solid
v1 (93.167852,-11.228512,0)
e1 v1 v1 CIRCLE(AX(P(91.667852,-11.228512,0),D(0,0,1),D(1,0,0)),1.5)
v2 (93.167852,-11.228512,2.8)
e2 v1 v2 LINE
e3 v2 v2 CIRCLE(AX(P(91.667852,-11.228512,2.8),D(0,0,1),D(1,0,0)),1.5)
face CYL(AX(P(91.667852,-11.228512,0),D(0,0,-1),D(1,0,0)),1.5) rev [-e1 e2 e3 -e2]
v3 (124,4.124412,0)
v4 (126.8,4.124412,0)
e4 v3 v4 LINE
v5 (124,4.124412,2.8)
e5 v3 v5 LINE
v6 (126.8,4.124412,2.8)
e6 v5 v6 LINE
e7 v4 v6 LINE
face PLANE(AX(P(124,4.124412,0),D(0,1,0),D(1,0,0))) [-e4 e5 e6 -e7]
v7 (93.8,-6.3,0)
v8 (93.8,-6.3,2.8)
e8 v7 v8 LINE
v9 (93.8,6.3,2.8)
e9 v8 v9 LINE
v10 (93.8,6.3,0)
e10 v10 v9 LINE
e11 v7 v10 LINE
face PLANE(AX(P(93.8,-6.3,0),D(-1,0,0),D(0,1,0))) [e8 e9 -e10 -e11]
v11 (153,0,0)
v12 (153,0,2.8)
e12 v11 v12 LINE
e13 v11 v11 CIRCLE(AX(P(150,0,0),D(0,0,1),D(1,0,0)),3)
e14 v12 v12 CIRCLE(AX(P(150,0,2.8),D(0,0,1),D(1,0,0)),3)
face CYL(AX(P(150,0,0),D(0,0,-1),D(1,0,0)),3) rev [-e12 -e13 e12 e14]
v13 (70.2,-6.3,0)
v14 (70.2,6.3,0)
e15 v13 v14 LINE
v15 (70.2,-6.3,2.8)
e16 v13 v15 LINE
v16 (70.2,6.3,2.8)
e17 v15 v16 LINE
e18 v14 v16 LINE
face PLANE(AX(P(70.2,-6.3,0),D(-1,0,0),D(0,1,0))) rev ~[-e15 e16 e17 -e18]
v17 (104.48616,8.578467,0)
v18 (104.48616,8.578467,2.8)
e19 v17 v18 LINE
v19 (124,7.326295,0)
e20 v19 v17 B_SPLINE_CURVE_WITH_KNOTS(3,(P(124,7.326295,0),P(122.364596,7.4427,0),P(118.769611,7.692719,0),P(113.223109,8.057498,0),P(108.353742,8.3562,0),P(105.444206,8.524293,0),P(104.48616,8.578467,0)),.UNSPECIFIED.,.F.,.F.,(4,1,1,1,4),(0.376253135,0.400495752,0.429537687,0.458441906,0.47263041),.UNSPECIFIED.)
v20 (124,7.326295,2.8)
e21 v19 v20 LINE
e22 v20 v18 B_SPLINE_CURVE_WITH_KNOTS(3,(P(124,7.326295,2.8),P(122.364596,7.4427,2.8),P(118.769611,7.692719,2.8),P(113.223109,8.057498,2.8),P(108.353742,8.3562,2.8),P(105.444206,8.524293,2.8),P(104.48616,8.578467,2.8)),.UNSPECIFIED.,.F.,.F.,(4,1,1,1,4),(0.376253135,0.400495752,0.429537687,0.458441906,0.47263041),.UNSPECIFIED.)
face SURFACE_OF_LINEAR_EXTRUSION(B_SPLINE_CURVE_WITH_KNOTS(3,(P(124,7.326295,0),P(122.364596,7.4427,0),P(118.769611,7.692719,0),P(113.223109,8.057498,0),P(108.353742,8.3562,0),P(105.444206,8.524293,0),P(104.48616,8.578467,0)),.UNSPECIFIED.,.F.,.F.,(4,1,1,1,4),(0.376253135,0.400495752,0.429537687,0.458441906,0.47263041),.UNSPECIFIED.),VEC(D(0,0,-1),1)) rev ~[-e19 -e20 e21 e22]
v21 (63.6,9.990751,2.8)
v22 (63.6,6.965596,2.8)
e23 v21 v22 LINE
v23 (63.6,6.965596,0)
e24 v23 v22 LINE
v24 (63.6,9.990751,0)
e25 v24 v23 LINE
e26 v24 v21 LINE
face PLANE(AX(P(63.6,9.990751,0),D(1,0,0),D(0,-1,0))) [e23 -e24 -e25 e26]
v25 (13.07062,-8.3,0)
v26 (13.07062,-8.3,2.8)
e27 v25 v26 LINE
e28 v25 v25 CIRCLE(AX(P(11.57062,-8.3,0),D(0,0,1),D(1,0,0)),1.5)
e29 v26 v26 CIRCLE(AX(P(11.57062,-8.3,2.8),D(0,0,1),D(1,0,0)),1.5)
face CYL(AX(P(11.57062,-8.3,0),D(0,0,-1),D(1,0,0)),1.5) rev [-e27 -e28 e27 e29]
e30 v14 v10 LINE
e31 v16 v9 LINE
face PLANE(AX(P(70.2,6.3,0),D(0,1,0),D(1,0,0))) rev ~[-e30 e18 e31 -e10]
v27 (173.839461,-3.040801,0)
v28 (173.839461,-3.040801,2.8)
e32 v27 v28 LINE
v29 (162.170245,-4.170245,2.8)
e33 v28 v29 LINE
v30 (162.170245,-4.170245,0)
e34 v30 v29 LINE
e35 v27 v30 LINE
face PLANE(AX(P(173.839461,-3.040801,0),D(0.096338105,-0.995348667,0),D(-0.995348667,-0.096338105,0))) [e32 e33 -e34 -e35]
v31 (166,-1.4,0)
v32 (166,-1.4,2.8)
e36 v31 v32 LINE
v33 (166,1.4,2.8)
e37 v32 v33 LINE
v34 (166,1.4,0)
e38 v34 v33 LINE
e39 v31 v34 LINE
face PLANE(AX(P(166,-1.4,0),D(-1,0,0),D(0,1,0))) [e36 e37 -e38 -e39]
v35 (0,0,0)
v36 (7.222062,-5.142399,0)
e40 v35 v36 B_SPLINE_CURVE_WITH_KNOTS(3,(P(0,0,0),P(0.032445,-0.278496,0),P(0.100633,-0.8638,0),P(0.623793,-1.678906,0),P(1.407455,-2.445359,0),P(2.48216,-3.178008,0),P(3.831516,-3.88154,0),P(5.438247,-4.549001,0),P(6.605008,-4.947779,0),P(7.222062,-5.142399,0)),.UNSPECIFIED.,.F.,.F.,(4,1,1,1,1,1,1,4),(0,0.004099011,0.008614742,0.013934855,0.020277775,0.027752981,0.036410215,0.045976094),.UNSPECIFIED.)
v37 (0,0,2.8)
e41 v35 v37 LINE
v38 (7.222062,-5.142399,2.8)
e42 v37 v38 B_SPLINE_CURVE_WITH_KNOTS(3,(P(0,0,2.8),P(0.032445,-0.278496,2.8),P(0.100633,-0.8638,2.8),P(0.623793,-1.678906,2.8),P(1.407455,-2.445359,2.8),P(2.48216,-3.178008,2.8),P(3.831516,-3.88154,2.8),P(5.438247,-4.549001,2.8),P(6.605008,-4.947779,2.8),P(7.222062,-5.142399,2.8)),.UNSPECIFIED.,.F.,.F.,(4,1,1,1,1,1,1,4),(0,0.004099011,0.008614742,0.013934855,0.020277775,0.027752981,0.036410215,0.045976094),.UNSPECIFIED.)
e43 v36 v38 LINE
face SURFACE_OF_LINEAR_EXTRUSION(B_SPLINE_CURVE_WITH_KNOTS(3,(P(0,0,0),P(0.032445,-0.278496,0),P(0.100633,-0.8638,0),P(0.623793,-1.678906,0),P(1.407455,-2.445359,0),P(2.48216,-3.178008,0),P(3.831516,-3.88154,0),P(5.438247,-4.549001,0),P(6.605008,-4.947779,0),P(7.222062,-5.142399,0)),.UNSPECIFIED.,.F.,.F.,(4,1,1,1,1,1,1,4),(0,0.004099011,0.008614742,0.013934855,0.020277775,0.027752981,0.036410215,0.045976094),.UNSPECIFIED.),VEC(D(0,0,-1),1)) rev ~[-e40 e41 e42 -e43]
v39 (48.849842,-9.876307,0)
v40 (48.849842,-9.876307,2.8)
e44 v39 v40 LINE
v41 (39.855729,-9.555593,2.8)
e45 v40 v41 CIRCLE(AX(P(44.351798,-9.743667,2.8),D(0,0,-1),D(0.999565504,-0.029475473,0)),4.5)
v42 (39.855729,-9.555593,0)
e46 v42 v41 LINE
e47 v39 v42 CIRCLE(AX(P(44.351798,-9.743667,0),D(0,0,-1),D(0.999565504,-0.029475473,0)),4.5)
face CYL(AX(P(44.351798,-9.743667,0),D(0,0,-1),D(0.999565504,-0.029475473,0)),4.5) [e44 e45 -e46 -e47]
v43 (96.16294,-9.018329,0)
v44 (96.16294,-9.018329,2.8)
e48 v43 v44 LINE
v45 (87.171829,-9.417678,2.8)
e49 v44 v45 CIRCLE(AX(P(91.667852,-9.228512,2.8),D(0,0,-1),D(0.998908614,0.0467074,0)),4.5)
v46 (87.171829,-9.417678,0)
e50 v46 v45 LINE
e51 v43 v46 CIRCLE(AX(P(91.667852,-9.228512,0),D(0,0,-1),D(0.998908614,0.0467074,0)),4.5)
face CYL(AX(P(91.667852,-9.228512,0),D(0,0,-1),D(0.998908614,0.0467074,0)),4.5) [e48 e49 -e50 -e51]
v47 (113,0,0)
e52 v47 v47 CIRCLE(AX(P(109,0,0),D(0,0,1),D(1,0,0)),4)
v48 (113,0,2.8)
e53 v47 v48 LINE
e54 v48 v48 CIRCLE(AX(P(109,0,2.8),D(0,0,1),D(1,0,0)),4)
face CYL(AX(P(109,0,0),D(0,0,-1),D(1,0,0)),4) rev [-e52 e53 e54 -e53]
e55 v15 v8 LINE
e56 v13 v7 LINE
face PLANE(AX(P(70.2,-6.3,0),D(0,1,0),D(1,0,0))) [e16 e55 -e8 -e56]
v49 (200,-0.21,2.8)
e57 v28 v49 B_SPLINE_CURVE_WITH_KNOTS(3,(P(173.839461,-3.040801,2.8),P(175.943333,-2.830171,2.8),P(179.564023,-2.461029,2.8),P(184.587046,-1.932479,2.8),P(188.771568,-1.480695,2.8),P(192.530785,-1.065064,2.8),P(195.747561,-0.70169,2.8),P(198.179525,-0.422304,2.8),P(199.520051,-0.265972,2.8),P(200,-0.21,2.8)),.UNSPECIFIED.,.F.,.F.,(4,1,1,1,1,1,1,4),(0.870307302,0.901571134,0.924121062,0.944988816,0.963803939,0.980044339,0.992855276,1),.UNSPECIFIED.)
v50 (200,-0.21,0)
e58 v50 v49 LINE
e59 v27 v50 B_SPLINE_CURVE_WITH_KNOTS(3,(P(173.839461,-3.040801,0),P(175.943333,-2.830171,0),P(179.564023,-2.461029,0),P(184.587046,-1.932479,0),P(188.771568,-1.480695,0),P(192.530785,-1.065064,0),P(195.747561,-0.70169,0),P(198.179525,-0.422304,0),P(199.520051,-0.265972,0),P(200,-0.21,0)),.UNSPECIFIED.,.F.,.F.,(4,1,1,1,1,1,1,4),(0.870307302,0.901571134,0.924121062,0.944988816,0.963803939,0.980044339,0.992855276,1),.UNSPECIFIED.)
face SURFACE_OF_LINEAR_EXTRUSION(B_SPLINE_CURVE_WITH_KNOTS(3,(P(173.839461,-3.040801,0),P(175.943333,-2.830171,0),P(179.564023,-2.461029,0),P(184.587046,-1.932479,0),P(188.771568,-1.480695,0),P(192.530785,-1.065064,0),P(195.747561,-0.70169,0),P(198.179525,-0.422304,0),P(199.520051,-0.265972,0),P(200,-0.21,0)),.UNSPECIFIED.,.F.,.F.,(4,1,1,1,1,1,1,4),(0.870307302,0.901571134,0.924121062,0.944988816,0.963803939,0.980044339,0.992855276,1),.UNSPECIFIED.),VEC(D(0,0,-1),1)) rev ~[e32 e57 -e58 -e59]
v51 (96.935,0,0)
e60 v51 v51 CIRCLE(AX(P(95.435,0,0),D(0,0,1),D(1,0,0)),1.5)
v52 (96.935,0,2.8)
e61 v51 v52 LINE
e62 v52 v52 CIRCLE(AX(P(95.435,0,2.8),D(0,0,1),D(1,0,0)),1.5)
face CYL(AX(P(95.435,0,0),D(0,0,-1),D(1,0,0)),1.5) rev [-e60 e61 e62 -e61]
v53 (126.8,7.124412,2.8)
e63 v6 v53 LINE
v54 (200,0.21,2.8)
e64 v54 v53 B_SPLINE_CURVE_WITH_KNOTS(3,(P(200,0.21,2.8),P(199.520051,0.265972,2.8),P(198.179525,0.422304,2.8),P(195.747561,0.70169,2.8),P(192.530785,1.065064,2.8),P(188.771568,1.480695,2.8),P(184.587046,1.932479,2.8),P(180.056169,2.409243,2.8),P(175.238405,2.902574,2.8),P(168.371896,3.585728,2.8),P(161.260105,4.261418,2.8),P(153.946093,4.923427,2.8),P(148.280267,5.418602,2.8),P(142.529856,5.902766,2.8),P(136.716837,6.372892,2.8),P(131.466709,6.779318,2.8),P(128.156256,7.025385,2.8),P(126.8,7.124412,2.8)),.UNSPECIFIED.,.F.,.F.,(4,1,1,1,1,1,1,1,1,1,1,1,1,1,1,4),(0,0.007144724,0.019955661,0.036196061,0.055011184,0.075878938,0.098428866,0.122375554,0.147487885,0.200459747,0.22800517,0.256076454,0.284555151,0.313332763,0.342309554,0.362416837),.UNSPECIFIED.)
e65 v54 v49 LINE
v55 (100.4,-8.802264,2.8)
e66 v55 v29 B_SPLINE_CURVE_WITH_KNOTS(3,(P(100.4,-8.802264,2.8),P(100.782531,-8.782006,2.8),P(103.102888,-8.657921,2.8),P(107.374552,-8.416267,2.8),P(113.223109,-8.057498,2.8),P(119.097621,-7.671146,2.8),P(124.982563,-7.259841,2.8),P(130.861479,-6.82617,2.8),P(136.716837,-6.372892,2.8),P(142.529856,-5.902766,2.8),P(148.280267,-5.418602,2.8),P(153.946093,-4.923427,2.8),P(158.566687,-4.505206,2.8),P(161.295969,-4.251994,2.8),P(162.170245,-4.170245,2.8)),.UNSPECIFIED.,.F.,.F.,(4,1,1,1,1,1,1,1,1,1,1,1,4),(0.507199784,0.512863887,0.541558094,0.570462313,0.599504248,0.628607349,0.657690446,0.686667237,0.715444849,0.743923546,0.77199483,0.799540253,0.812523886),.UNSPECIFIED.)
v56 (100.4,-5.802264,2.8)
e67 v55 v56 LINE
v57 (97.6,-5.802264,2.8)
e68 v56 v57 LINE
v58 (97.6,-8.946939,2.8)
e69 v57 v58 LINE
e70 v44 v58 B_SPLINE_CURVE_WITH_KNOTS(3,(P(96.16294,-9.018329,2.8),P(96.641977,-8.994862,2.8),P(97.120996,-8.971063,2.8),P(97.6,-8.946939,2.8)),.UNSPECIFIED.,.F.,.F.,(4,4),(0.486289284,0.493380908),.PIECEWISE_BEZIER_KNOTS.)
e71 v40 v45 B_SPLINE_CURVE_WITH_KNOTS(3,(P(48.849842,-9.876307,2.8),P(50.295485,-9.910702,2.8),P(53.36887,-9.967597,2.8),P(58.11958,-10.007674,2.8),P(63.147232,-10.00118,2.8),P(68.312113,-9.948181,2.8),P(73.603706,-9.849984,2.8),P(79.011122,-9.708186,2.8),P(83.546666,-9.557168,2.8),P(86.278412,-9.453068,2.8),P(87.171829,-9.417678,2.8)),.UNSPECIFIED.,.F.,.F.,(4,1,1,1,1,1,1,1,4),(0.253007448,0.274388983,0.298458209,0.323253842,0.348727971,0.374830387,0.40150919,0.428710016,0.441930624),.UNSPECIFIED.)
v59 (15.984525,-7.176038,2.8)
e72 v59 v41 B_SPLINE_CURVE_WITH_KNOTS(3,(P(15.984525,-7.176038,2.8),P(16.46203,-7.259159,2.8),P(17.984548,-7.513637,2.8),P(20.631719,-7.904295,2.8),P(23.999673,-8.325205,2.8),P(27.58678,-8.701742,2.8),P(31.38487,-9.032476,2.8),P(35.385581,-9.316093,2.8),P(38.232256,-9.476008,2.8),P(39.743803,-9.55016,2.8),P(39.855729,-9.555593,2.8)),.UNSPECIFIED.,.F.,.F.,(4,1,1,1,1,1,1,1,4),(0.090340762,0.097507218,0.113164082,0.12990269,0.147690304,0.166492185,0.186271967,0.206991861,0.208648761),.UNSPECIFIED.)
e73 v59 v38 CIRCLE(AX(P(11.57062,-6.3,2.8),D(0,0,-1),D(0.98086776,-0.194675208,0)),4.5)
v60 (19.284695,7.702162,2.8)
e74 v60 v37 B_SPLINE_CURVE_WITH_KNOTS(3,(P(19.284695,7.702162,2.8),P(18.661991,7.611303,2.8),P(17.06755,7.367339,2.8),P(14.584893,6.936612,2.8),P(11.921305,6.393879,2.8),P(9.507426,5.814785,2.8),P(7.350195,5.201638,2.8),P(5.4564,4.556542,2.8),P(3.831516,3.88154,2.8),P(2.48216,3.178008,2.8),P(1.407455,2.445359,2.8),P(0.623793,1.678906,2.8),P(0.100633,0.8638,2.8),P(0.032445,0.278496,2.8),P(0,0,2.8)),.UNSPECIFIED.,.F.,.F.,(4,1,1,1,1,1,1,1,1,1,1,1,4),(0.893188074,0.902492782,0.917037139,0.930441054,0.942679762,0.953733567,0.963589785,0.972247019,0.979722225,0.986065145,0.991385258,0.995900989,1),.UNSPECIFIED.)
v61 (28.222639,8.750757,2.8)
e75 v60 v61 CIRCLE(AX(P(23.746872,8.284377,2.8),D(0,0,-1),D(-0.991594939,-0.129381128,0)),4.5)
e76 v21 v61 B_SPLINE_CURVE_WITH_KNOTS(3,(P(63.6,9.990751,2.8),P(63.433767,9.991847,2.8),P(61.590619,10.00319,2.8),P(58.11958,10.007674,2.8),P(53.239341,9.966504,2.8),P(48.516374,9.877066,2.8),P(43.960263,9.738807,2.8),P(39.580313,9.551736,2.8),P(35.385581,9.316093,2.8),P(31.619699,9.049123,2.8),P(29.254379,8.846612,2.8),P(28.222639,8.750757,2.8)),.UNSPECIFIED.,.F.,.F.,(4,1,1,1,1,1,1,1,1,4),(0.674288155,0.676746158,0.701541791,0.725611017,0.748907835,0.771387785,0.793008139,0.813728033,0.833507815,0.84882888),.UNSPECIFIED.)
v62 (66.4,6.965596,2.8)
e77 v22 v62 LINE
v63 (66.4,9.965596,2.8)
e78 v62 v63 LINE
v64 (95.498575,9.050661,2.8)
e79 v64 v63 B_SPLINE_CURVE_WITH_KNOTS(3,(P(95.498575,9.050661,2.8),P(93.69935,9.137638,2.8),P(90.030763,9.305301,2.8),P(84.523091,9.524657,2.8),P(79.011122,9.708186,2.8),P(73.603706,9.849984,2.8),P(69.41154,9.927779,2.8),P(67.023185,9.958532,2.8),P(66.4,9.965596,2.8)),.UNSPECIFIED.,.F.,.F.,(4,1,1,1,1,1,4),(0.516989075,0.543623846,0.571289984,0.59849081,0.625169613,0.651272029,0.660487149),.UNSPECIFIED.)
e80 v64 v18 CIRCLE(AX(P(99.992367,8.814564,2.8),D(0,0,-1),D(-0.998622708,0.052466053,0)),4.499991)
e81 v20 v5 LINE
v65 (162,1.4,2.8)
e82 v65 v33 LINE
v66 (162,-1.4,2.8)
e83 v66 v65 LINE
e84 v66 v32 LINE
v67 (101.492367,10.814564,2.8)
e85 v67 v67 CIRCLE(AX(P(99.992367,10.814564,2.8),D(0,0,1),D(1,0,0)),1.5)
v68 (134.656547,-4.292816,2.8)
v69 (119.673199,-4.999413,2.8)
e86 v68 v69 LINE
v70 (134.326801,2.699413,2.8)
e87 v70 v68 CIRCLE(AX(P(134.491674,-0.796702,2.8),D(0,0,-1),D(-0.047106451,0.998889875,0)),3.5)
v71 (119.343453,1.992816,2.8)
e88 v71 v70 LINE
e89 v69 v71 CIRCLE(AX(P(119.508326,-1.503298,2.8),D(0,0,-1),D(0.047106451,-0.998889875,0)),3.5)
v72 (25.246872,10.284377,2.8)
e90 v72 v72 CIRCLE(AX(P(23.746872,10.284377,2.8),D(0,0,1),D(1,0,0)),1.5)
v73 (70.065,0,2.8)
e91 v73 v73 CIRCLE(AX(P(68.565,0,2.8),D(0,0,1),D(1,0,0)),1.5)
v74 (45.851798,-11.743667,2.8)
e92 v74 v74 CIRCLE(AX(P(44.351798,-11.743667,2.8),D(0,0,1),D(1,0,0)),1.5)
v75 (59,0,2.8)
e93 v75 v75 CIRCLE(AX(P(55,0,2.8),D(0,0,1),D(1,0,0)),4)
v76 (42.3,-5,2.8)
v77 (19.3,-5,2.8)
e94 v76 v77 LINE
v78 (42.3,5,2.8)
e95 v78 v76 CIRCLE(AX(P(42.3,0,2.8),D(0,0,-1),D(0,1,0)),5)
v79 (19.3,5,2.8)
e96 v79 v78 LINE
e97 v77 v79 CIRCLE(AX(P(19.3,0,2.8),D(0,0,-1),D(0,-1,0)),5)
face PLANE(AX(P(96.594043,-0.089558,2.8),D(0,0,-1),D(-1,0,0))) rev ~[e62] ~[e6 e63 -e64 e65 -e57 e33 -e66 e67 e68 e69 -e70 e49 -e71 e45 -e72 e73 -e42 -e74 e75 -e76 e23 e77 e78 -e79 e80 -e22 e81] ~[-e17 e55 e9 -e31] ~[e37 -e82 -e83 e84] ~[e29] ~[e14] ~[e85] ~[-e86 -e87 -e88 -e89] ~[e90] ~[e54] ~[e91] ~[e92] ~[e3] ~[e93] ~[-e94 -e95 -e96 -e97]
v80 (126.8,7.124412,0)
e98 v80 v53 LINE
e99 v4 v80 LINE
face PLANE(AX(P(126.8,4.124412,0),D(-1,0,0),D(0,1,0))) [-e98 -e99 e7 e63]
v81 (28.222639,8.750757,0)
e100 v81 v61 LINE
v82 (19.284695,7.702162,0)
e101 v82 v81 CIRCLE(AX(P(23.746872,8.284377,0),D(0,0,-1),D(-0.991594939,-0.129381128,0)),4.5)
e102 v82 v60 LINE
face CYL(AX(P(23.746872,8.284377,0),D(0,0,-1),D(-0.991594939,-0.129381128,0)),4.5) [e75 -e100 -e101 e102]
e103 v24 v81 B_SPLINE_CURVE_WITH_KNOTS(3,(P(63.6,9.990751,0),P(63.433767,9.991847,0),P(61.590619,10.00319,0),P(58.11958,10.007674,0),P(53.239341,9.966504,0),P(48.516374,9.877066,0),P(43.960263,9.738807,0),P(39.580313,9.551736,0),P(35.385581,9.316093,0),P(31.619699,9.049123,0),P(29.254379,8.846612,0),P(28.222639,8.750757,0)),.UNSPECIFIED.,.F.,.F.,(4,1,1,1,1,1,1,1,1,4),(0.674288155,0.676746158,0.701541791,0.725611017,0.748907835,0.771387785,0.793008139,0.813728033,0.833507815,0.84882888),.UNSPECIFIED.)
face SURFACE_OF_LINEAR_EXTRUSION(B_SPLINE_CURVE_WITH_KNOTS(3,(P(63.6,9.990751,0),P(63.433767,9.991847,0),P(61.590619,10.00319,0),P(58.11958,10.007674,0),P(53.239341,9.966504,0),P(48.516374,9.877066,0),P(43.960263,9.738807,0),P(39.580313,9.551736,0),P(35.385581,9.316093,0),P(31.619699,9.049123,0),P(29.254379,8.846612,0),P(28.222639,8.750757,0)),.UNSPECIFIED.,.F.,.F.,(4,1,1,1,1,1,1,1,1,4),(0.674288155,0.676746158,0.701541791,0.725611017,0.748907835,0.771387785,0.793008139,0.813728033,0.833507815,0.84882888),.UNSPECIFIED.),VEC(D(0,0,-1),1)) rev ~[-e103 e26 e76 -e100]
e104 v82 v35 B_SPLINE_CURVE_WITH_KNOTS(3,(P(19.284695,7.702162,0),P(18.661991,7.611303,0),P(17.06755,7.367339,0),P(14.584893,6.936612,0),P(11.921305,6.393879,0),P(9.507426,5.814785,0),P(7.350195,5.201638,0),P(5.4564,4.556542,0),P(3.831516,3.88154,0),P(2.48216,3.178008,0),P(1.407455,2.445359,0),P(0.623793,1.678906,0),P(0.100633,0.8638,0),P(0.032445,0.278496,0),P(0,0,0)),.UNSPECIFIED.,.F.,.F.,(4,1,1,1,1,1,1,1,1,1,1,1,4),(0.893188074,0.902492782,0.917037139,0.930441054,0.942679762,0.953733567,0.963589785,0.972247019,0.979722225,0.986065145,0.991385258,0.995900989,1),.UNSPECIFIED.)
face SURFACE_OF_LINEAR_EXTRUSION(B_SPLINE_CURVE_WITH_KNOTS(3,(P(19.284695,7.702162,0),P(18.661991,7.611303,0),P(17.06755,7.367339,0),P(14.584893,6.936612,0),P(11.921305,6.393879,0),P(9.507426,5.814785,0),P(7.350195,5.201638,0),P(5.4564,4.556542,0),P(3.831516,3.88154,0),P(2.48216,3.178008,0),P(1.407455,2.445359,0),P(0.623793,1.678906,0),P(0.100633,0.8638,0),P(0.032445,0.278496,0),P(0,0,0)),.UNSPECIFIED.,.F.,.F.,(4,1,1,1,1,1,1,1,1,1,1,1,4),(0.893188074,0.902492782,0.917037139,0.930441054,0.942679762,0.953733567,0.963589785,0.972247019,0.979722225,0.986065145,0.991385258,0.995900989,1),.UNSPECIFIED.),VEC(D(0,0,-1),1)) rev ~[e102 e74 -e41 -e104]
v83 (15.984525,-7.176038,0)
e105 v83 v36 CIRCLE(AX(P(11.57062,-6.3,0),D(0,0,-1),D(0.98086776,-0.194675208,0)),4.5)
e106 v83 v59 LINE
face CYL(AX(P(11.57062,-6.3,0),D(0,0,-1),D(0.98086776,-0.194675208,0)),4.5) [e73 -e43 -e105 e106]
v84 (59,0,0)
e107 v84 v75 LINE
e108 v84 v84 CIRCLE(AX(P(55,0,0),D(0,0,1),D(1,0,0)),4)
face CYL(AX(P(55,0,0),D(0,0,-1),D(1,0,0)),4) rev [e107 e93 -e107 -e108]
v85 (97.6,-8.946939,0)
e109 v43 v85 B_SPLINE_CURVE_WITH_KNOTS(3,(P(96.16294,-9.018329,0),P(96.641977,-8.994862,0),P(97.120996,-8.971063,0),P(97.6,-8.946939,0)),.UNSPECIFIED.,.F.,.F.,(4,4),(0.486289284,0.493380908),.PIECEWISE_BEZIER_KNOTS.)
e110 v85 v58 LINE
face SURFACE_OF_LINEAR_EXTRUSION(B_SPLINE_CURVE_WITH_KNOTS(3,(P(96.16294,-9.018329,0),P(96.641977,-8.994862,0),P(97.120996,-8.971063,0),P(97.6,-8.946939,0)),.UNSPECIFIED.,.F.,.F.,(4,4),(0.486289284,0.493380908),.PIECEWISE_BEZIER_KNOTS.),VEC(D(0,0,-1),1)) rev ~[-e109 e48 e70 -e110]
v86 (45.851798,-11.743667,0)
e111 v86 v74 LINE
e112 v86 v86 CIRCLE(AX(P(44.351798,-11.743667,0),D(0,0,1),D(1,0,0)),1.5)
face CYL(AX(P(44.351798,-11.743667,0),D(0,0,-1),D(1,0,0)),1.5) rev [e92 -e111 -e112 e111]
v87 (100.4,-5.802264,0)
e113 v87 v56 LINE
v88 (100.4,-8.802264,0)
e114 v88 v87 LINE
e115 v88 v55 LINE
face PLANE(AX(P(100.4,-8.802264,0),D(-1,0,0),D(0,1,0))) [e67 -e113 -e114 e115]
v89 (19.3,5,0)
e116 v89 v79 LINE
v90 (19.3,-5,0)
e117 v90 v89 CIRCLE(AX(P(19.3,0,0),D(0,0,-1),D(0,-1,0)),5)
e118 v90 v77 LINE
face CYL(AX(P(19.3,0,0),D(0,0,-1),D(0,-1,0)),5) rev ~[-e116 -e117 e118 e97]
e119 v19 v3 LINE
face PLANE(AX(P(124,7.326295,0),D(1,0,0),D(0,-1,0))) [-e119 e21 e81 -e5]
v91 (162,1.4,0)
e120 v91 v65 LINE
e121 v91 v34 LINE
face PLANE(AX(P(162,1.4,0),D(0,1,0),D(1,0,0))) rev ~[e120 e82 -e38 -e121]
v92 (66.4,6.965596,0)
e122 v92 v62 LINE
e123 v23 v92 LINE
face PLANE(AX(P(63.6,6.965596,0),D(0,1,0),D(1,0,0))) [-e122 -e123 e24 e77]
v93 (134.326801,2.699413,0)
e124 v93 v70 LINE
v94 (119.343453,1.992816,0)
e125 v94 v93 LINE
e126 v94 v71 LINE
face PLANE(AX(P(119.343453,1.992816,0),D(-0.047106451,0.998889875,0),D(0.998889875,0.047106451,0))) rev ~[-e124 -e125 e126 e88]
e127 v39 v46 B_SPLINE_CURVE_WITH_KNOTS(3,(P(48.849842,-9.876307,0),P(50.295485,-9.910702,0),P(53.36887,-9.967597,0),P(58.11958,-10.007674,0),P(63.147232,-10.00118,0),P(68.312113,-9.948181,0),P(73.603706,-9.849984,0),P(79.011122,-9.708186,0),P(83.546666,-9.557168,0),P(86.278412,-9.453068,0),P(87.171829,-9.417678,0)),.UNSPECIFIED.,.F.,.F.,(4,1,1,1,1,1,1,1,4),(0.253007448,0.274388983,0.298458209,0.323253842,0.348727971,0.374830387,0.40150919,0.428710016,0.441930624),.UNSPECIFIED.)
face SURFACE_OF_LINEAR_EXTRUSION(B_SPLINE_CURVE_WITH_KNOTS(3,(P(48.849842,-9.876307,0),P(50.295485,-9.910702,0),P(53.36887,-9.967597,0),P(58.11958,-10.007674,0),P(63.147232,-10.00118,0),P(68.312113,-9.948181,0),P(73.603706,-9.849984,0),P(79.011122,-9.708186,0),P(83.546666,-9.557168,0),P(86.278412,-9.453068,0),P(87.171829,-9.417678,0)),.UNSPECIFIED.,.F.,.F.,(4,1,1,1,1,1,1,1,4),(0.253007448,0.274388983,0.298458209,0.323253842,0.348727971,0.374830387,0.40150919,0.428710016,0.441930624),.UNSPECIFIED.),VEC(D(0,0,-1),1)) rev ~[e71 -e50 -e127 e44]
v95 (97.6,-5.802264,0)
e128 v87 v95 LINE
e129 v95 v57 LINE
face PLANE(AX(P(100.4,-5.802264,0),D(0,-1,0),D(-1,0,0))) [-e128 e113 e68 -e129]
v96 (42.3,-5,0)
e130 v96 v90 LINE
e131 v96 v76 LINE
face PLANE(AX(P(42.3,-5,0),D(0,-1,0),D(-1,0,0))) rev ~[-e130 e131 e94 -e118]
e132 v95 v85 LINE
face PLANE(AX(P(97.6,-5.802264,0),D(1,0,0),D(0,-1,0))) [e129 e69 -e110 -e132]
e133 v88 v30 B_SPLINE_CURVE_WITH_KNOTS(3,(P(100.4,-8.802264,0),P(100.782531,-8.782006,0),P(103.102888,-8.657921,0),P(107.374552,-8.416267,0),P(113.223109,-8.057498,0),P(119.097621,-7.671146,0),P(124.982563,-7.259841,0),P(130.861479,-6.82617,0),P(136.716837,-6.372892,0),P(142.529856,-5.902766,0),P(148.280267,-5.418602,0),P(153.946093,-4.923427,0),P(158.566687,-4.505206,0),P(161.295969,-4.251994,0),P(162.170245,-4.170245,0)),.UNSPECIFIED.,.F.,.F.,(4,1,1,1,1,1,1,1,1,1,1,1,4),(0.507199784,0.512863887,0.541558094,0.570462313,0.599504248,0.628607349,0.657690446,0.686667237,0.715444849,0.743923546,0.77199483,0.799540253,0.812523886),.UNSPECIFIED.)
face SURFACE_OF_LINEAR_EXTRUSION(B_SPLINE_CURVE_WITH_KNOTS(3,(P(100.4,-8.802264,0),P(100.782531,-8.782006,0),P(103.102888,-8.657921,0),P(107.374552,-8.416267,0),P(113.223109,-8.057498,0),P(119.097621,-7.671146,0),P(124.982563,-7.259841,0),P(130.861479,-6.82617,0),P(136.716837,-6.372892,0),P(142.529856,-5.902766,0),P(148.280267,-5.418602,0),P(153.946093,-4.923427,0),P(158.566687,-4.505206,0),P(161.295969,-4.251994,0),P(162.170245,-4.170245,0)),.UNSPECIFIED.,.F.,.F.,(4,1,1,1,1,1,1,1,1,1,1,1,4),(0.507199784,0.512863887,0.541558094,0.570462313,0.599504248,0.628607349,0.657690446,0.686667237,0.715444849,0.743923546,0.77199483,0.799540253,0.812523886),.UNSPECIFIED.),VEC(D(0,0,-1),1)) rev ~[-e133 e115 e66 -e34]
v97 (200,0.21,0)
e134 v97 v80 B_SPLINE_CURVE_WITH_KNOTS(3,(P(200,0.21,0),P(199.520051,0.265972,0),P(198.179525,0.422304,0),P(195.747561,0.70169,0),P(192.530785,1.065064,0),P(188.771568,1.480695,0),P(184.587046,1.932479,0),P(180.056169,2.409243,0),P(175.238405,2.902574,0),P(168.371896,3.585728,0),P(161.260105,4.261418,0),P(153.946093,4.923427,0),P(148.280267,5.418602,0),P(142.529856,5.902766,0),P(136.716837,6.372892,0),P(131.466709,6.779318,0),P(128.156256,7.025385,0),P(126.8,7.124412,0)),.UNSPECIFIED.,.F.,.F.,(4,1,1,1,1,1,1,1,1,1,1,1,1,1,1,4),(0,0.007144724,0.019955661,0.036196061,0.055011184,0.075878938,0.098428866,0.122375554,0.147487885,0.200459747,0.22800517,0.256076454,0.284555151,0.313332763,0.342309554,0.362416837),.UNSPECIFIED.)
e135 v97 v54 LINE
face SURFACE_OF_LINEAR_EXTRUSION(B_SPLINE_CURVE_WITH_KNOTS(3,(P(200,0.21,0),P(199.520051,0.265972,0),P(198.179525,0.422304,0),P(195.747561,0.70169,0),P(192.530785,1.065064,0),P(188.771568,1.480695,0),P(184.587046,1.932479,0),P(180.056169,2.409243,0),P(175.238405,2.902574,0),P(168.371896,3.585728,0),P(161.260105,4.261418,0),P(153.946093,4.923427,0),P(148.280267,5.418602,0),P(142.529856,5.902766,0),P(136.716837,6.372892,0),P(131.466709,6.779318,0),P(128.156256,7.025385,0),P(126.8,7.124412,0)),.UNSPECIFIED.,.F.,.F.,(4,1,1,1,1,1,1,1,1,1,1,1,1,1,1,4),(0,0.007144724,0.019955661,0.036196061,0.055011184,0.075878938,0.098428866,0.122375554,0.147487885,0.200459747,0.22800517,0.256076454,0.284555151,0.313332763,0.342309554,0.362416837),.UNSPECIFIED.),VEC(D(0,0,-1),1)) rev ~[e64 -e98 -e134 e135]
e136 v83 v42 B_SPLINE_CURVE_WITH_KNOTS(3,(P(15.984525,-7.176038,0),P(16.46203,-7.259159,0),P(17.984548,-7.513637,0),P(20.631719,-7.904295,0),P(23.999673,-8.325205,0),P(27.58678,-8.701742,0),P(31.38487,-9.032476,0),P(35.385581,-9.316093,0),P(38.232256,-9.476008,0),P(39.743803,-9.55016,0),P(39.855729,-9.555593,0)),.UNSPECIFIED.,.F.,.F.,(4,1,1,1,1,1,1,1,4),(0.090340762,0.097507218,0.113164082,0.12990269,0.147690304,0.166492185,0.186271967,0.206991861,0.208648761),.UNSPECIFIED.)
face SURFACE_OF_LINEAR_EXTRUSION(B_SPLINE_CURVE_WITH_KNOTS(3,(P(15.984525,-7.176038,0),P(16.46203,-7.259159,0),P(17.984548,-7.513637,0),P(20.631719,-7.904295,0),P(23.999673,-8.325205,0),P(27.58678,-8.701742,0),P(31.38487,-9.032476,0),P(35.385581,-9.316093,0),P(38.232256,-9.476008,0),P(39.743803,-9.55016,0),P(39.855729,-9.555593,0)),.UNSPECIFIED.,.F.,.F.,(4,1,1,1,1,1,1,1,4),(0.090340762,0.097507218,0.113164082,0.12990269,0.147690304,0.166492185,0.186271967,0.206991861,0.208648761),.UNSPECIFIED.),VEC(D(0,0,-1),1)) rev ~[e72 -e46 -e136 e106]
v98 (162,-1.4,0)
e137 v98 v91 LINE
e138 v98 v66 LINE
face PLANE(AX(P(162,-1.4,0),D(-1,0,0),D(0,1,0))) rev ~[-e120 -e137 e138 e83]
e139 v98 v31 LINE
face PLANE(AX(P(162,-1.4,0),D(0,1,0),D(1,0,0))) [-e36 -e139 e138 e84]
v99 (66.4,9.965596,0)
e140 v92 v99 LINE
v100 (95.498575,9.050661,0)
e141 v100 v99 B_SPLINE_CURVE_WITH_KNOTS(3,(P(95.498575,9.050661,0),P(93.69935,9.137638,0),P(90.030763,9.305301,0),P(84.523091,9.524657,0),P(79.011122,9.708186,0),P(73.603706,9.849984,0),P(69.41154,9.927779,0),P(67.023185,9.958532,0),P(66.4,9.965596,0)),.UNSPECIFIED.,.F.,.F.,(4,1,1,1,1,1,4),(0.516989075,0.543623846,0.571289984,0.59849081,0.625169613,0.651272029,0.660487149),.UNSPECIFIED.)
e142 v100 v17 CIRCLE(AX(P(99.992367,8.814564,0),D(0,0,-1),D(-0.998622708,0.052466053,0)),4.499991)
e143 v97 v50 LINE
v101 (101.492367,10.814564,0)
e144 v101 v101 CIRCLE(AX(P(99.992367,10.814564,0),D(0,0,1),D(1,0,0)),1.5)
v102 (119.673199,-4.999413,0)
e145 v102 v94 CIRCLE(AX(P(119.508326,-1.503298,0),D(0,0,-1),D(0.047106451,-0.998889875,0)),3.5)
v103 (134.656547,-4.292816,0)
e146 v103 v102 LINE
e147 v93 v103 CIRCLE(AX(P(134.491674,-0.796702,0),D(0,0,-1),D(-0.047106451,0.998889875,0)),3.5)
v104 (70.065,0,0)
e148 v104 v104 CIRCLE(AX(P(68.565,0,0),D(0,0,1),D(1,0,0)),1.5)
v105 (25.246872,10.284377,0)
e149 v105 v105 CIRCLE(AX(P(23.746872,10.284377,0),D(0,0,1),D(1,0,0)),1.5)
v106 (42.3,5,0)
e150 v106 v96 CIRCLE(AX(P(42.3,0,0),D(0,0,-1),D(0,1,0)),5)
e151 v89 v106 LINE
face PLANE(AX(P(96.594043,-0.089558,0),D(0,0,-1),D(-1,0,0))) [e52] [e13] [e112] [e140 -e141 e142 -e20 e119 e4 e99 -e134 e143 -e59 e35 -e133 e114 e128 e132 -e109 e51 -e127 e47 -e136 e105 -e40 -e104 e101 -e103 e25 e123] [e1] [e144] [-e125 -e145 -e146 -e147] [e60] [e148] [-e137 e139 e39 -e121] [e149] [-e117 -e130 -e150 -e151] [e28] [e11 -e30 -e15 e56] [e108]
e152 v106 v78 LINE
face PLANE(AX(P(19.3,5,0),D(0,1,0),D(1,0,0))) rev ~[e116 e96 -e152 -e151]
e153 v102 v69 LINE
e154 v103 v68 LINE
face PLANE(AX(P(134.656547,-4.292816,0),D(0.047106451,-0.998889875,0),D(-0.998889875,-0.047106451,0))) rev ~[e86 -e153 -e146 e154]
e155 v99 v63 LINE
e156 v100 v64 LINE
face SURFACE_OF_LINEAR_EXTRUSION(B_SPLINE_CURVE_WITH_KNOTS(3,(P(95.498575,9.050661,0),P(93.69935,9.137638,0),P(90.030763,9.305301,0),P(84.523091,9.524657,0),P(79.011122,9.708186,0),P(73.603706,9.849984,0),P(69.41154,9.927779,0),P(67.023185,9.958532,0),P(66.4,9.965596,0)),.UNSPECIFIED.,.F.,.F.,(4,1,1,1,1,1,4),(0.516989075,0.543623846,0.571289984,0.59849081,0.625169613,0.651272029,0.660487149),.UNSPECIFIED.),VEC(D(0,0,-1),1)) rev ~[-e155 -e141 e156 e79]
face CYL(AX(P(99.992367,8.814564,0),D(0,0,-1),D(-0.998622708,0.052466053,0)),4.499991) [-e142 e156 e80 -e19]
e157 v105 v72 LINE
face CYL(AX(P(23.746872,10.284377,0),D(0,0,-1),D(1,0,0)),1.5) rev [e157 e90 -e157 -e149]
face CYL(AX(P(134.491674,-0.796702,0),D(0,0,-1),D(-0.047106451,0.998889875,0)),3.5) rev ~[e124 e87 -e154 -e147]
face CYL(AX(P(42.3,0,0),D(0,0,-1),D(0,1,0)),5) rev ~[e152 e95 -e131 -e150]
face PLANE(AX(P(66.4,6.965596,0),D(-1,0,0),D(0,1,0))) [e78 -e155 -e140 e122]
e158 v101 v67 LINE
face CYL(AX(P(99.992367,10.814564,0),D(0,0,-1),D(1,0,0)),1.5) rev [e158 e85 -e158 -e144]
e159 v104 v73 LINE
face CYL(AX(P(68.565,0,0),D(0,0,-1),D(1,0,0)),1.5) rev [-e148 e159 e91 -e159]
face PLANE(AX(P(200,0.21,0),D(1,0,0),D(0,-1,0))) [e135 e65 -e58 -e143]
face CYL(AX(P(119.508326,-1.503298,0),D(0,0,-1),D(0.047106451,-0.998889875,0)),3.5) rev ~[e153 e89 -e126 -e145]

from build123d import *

# Parameters (mm, degrees)
SKETCH_3_R      = 4
SKETCH_3_R_2    = 3
SKETCH_3_R_3    = 1.5
SKETCH_3_R_4    = 1.500000004
SKETCH_3_R_5    = 1.499999999
SKETCH_3_W      = 23.6
SKETCH_3_H      = 12.6
SKETCH_3_W_2    = 4
SKETCH_3_H_2    = 2.8
EXTRUDE_3_DEPTH = 2.8


with BuildPart() as part:
    # Эскиз3 → Бобышка-Вытянуть3 (new body)
    with BuildSketch(Plane.XY):
        with BuildLine():
            Line((200, 0.21), (200, -0.21))
            add(Edge.make_bspline(
                [(173.839461144, -3.040801203), (175.943333039, -2.830170954), (179.564023078, -2.461029339), (184.58704572, -1.932479181), (188.771568451, -1.480695182), (192.530784687, -1.065063842), (195.747560944, -0.701689979), (198.179524953, -0.422303954), (199.520051416, -0.265971644), (200, -0.21)],
                knots=[0.870307302, 0.870307302, 0.870307302, 0.870307302, 0.901571134, 0.924121062, 0.944988816, 0.963803939, 0.980044339, 0.992855276, 1, 1, 1, 1], degree=3))
            Line((173.839461144, -3.040801203), (162.170244806, -4.170244806))
            add(Edge.make_bspline(
                [(100.4, -8.802264), (100.782530515, -8.78200637), (103.102887785, -8.657921344), (107.374551667, -8.416266925), (113.223109349, -8.057497647), (119.097620698, -7.671146294), (124.98256269, -7.259840679), (130.861479372, -6.826169971), (136.716836604, -6.372892076), (142.52985565, -5.902766003), (148.280267017, -5.418602057), (153.94609331, -4.923426646), (158.566687276, -4.50520567), (161.295968592, -4.251994411), (162.170244806, -4.170244806)],
                knots=[0.507199784, 0.507199784, 0.507199784, 0.507199784, 0.512863887, 0.541558094, 0.570462313, 0.599504248, 0.628607349, 0.657690446, 0.686667237, 0.715444849, 0.743923546, 0.77199483, 0.799540253, 0.812523886, 0.812523886, 0.812523886, 0.812523886], degree=3))
            Line((100.4, -8.802264), (100.4, -5.802264))
            Line((100.4, -5.802264), (97.6, -5.802264))
            Line((97.6, -5.802264), (97.6, -8.946938935))
            add(Edge.make_bspline(
                [(96.16294038, -9.018329177), (96.641976589, -8.994862294), (97.120996479, -8.971063118), (97.6, -8.946938935)],
                knots=[0.486289284, 0.486289284, 0.486289284, 0.486289284, 0.493380908, 0.493380908, 0.493380908, 0.493380908], degree=3))
            ThreePointArc((96.16294038, -9.018329177), (91.867526446, -13.724080291), (87.17182932, -9.417677743))
            add(Edge.make_bspline(
                [(48.849842288, -9.876307099), (50.29548458, -9.910701869), (53.368870018, -9.967597185), (58.119580476, -10.007674079), (63.1472323, -10.001179647), (68.312112853, -9.948180779), (73.603706203, -9.849984193), (79.011121779, -9.708185508), (83.546665754, -9.557168434), (86.278412172, -9.453068368), (87.17182932, -9.417677743)],
                knots=[0.253007448, 0.253007448, 0.253007448, 0.253007448, 0.274388983, 0.298458209, 0.323253842, 0.348727971, 0.374830387, 0.40150919, 0.428710016, 0.441930624, 0.441930624, 0.441930624, 0.441930624], degree=3))
            ThreePointArc((48.849842288, -9.876307099), (44.191437181, -14.24080929), (39.855729482, -9.55559251))
            add(Edge.make_bspline(
                [(15.984525285, -7.176038428), (16.462030484, -7.259158951), (17.98454817, -7.513637269), (20.631718929, -7.904294519), (23.999672572, -8.325205071), (27.586779878, -8.701741845), (31.384869898, -9.032475932), (35.385580654, -9.316092874), (38.232256125, -9.476007566), (39.743803487, -9.550160154), (39.855729482, -9.55559251)],
                knots=[0.090340762, 0.090340762, 0.090340762, 0.090340762, 0.097507218, 0.113164082, 0.12990269, 0.147690304, 0.166492185, 0.186271967, 0.206991861, 0.208648761, 0.208648761, 0.208648761, 0.208648761], degree=3))
            ThreePointArc((15.984525285, -7.176038428), (10.553276044, -10.683492951), (7.222061882, -5.142399398))
            add(Edge.make_bspline(
                [(0, 0), (0.032444913, -0.278495812), (0.100633198, -0.863800259), (0.62379252, -1.678905598), (1.407454519, -2.445359097), (2.482159911, -3.178007514), (3.831515726, -3.881540279), (5.438246861, -4.54900077), (6.605008441, -4.947778836), (7.222061882, -5.142399398)],
                knots=[0, 0, 0, 0, 0.004099011, 0.008614742, 0.013934855, 0.020277775, 0.027752981, 0.036410215, 0.045976094, 0.045976094, 0.045976094, 0.045976094], degree=3))
            add(Edge.make_bspline(
                [(19.284694791, 7.702161614), (18.661991317, 7.611303464), (17.067549655, 7.367338744), (14.58489291, 6.936612431), (11.921305119, 6.393879384), (9.507426038, 5.81478546), (7.350195056, 5.201638101), (5.45639967, 4.556541724), (3.831515725, 3.88154028), (2.48215991, 3.178007515), (1.407454518, 2.445359098), (0.62379252, 1.678905598), (0.100633198, 0.863800259), (0.032444913, 0.278495812), (0, 0)],
                knots=[0.893188074, 0.893188074, 0.893188074, 0.893188074, 0.902492782, 0.917037139, 0.930441054, 0.942679762, 0.953733567, 0.963589785, 0.972247019, 0.979722225, 0.986065145, 0.991385258, 0.995900989, 1, 1, 1, 1], degree=3))
            ThreePointArc((19.284694791, 7.702161614), (23.222530105, 12.753724018), (28.222638882, 8.75075738))
            add(Edge.make_bspline(
                [(63.6, 9.990751447), (63.433767139, 9.991846739), (61.590618822, 10.003190391), (58.119580476, 10.007674079), (53.23934089, 9.96650448), (48.51637403, 9.877065972), (43.960263435, 9.738807032), (39.580313293, 9.551735955), (35.385580654, 9.316092874), (31.619699098, 9.049123359), (29.254379223, 8.84661187), (28.222638882, 8.75075738)],
                knots=[0.674288155, 0.674288155, 0.674288155, 0.674288155, 0.676746158, 0.701541791, 0.725611017, 0.748907835, 0.771387785, 0.793008139, 0.813728033, 0.833507815, 0.84882888, 0.84882888, 0.84882888, 0.84882888], degree=3))
            Line((63.6, 9.990751447), (63.6, 6.965595937))
            Line((63.6, 6.965595937), (66.4, 6.965595937))
            Line((66.4, 6.965595937), (66.4, 9.965595937))
            add(Edge.make_bspline(
                [(95.498574643, 9.050660645), (93.699350388, 9.137637837), (90.030763168, 9.305301287), (84.52309051, 9.524657051), (79.011121778, 9.708185508), (73.603706202, 9.849984193), (69.41154014, 9.927778606), (67.023185068, 9.958531818), (66.4, 9.965595937)],
                knots=[0.516989075, 0.516989075, 0.516989075, 0.516989075, 0.543623846, 0.571289984, 0.59849081, 0.625169613, 0.651272029, 0.660487149, 0.660487149, 0.660487149, 0.660487149], degree=3))
            ThreePointArc((95.498574643, 9.050660645), (100.228464185, 13.308356698), (104.486160238, 8.578467155))
            add(Edge.make_bspline(
                [(124, 7.326294797), (122.364596134, 7.442700413), (118.769611386, 7.692718614), (113.223109349, 8.057497647), (108.353742435, 8.356200224), (105.444206381, 8.524292737), (104.486160238, 8.578467155)],
                knots=[0.376253135, 0.376253135, 0.376253135, 0.376253135, 0.400495752, 0.429537687, 0.458441906, 0.47263041, 0.47263041, 0.47263041, 0.47263041], degree=3))
            Line((124, 7.326294797), (124, 4.124412105))
            Line((124, 4.124412105), (126.8, 4.124412105))
            Line((126.8, 4.124412105), (126.8, 7.124412105))
            add(Edge.make_bspline(
                [(200, 0.21), (199.520051416, 0.265971644), (198.179524953, 0.422303954), (195.747560944, 0.701689979), (192.530784687, 1.065063842), (188.771568451, 1.480695182), (184.58704572, 1.932479181), (180.05616868, 2.409243063), (175.238405485, 2.90257428), (168.371896377, 3.585728287), (161.260104983, 4.261418012), (153.94609331, 4.923426646), (148.280267017, 5.418602057), (142.52985565, 5.902766003), (136.716836604, 6.372892076), (131.466708661, 6.779317653), (128.156255998, 7.025385403), (126.8, 7.124412105)],
                knots=[0, 0, 0, 0, 0.007144724, 0.019955661, 0.036196061, 0.055011184, 0.075878938, 0.098428866, 0.122375554, 0.147487885, 0.200459747, 0.22800517, 0.256076454, 0.284555151, 0.313332763, 0.342309554, 0.362416837, 0.362416837, 0.362416837, 0.362416837], degree=3))
        make_face()
        with Locations((109, 0)):
            Circle(SKETCH_3_R, mode=Mode.SUBTRACT)
        with Locations((55, 0)):
            Circle(SKETCH_3_R, mode=Mode.SUBTRACT)
        with Locations((150, 0)):
            Circle(SKETCH_3_R_2, mode=Mode.SUBTRACT)
        with Locations((68.565, 0)):
            Circle(SKETCH_3_R_3, mode=Mode.SUBTRACT)
        with Locations((95.435, 0)):
            Circle(SKETCH_3_R_3, mode=Mode.SUBTRACT)
        with Locations((23.746872016, 10.284376689)):
            Circle(SKETCH_3_R_4, mode=Mode.SUBTRACT)
        with Locations((11.570620364, -8.299999991)):
            Circle(SKETCH_3_R_5, mode=Mode.SUBTRACT)
        with Locations((44.351797521, -11.743667469)):
            Circle(SKETCH_3_R_5, mode=Mode.SUBTRACT)
        with Locations((91.667851618, -11.228512478)):
            Circle(SKETCH_3_R_3, mode=Mode.SUBTRACT)
        with Locations((99.99236744, 10.8145639)):
            Circle(SKETCH_3_R_3, mode=Mode.SUBTRACT)
        with BuildLine():
            Line((19.3, 5), (42.3, 5))
            ThreePointArc((42.3, 5), (47.3, 0), (42.3, -5))
            Line((42.3, -5), (19.3, -5))
            ThreePointArc((19.3, -5), (14.3, 0), (19.3, 5))
        make_face(mode=Mode.SUBTRACT)
        with BuildLine():
            Line((119.34345336, 1.992816182), (134.326801485, 2.699412943))
            ThreePointArc((134.326801485, 2.699412943), (137.987788625, -0.631829042), (134.65654664, -4.292816182))
            Line((134.65654664, -4.292816182), (119.673198515, -4.999412943))
            ThreePointArc((119.673198515, -4.999412943), (116.012211375, -1.668170958), (119.34345336, 1.992816182))
        make_face(mode=Mode.SUBTRACT)
        with Locations((82, 0)):
            Rectangle(SKETCH_3_W, SKETCH_3_H, mode=Mode.SUBTRACT)
        with Locations((164, 0)):
            Rectangle(SKETCH_3_W_2, SKETCH_3_H_2, mode=Mode.SUBTRACT)
    extrude(amount=EXTRUDE_3_DEPTH)


solid = part.part
